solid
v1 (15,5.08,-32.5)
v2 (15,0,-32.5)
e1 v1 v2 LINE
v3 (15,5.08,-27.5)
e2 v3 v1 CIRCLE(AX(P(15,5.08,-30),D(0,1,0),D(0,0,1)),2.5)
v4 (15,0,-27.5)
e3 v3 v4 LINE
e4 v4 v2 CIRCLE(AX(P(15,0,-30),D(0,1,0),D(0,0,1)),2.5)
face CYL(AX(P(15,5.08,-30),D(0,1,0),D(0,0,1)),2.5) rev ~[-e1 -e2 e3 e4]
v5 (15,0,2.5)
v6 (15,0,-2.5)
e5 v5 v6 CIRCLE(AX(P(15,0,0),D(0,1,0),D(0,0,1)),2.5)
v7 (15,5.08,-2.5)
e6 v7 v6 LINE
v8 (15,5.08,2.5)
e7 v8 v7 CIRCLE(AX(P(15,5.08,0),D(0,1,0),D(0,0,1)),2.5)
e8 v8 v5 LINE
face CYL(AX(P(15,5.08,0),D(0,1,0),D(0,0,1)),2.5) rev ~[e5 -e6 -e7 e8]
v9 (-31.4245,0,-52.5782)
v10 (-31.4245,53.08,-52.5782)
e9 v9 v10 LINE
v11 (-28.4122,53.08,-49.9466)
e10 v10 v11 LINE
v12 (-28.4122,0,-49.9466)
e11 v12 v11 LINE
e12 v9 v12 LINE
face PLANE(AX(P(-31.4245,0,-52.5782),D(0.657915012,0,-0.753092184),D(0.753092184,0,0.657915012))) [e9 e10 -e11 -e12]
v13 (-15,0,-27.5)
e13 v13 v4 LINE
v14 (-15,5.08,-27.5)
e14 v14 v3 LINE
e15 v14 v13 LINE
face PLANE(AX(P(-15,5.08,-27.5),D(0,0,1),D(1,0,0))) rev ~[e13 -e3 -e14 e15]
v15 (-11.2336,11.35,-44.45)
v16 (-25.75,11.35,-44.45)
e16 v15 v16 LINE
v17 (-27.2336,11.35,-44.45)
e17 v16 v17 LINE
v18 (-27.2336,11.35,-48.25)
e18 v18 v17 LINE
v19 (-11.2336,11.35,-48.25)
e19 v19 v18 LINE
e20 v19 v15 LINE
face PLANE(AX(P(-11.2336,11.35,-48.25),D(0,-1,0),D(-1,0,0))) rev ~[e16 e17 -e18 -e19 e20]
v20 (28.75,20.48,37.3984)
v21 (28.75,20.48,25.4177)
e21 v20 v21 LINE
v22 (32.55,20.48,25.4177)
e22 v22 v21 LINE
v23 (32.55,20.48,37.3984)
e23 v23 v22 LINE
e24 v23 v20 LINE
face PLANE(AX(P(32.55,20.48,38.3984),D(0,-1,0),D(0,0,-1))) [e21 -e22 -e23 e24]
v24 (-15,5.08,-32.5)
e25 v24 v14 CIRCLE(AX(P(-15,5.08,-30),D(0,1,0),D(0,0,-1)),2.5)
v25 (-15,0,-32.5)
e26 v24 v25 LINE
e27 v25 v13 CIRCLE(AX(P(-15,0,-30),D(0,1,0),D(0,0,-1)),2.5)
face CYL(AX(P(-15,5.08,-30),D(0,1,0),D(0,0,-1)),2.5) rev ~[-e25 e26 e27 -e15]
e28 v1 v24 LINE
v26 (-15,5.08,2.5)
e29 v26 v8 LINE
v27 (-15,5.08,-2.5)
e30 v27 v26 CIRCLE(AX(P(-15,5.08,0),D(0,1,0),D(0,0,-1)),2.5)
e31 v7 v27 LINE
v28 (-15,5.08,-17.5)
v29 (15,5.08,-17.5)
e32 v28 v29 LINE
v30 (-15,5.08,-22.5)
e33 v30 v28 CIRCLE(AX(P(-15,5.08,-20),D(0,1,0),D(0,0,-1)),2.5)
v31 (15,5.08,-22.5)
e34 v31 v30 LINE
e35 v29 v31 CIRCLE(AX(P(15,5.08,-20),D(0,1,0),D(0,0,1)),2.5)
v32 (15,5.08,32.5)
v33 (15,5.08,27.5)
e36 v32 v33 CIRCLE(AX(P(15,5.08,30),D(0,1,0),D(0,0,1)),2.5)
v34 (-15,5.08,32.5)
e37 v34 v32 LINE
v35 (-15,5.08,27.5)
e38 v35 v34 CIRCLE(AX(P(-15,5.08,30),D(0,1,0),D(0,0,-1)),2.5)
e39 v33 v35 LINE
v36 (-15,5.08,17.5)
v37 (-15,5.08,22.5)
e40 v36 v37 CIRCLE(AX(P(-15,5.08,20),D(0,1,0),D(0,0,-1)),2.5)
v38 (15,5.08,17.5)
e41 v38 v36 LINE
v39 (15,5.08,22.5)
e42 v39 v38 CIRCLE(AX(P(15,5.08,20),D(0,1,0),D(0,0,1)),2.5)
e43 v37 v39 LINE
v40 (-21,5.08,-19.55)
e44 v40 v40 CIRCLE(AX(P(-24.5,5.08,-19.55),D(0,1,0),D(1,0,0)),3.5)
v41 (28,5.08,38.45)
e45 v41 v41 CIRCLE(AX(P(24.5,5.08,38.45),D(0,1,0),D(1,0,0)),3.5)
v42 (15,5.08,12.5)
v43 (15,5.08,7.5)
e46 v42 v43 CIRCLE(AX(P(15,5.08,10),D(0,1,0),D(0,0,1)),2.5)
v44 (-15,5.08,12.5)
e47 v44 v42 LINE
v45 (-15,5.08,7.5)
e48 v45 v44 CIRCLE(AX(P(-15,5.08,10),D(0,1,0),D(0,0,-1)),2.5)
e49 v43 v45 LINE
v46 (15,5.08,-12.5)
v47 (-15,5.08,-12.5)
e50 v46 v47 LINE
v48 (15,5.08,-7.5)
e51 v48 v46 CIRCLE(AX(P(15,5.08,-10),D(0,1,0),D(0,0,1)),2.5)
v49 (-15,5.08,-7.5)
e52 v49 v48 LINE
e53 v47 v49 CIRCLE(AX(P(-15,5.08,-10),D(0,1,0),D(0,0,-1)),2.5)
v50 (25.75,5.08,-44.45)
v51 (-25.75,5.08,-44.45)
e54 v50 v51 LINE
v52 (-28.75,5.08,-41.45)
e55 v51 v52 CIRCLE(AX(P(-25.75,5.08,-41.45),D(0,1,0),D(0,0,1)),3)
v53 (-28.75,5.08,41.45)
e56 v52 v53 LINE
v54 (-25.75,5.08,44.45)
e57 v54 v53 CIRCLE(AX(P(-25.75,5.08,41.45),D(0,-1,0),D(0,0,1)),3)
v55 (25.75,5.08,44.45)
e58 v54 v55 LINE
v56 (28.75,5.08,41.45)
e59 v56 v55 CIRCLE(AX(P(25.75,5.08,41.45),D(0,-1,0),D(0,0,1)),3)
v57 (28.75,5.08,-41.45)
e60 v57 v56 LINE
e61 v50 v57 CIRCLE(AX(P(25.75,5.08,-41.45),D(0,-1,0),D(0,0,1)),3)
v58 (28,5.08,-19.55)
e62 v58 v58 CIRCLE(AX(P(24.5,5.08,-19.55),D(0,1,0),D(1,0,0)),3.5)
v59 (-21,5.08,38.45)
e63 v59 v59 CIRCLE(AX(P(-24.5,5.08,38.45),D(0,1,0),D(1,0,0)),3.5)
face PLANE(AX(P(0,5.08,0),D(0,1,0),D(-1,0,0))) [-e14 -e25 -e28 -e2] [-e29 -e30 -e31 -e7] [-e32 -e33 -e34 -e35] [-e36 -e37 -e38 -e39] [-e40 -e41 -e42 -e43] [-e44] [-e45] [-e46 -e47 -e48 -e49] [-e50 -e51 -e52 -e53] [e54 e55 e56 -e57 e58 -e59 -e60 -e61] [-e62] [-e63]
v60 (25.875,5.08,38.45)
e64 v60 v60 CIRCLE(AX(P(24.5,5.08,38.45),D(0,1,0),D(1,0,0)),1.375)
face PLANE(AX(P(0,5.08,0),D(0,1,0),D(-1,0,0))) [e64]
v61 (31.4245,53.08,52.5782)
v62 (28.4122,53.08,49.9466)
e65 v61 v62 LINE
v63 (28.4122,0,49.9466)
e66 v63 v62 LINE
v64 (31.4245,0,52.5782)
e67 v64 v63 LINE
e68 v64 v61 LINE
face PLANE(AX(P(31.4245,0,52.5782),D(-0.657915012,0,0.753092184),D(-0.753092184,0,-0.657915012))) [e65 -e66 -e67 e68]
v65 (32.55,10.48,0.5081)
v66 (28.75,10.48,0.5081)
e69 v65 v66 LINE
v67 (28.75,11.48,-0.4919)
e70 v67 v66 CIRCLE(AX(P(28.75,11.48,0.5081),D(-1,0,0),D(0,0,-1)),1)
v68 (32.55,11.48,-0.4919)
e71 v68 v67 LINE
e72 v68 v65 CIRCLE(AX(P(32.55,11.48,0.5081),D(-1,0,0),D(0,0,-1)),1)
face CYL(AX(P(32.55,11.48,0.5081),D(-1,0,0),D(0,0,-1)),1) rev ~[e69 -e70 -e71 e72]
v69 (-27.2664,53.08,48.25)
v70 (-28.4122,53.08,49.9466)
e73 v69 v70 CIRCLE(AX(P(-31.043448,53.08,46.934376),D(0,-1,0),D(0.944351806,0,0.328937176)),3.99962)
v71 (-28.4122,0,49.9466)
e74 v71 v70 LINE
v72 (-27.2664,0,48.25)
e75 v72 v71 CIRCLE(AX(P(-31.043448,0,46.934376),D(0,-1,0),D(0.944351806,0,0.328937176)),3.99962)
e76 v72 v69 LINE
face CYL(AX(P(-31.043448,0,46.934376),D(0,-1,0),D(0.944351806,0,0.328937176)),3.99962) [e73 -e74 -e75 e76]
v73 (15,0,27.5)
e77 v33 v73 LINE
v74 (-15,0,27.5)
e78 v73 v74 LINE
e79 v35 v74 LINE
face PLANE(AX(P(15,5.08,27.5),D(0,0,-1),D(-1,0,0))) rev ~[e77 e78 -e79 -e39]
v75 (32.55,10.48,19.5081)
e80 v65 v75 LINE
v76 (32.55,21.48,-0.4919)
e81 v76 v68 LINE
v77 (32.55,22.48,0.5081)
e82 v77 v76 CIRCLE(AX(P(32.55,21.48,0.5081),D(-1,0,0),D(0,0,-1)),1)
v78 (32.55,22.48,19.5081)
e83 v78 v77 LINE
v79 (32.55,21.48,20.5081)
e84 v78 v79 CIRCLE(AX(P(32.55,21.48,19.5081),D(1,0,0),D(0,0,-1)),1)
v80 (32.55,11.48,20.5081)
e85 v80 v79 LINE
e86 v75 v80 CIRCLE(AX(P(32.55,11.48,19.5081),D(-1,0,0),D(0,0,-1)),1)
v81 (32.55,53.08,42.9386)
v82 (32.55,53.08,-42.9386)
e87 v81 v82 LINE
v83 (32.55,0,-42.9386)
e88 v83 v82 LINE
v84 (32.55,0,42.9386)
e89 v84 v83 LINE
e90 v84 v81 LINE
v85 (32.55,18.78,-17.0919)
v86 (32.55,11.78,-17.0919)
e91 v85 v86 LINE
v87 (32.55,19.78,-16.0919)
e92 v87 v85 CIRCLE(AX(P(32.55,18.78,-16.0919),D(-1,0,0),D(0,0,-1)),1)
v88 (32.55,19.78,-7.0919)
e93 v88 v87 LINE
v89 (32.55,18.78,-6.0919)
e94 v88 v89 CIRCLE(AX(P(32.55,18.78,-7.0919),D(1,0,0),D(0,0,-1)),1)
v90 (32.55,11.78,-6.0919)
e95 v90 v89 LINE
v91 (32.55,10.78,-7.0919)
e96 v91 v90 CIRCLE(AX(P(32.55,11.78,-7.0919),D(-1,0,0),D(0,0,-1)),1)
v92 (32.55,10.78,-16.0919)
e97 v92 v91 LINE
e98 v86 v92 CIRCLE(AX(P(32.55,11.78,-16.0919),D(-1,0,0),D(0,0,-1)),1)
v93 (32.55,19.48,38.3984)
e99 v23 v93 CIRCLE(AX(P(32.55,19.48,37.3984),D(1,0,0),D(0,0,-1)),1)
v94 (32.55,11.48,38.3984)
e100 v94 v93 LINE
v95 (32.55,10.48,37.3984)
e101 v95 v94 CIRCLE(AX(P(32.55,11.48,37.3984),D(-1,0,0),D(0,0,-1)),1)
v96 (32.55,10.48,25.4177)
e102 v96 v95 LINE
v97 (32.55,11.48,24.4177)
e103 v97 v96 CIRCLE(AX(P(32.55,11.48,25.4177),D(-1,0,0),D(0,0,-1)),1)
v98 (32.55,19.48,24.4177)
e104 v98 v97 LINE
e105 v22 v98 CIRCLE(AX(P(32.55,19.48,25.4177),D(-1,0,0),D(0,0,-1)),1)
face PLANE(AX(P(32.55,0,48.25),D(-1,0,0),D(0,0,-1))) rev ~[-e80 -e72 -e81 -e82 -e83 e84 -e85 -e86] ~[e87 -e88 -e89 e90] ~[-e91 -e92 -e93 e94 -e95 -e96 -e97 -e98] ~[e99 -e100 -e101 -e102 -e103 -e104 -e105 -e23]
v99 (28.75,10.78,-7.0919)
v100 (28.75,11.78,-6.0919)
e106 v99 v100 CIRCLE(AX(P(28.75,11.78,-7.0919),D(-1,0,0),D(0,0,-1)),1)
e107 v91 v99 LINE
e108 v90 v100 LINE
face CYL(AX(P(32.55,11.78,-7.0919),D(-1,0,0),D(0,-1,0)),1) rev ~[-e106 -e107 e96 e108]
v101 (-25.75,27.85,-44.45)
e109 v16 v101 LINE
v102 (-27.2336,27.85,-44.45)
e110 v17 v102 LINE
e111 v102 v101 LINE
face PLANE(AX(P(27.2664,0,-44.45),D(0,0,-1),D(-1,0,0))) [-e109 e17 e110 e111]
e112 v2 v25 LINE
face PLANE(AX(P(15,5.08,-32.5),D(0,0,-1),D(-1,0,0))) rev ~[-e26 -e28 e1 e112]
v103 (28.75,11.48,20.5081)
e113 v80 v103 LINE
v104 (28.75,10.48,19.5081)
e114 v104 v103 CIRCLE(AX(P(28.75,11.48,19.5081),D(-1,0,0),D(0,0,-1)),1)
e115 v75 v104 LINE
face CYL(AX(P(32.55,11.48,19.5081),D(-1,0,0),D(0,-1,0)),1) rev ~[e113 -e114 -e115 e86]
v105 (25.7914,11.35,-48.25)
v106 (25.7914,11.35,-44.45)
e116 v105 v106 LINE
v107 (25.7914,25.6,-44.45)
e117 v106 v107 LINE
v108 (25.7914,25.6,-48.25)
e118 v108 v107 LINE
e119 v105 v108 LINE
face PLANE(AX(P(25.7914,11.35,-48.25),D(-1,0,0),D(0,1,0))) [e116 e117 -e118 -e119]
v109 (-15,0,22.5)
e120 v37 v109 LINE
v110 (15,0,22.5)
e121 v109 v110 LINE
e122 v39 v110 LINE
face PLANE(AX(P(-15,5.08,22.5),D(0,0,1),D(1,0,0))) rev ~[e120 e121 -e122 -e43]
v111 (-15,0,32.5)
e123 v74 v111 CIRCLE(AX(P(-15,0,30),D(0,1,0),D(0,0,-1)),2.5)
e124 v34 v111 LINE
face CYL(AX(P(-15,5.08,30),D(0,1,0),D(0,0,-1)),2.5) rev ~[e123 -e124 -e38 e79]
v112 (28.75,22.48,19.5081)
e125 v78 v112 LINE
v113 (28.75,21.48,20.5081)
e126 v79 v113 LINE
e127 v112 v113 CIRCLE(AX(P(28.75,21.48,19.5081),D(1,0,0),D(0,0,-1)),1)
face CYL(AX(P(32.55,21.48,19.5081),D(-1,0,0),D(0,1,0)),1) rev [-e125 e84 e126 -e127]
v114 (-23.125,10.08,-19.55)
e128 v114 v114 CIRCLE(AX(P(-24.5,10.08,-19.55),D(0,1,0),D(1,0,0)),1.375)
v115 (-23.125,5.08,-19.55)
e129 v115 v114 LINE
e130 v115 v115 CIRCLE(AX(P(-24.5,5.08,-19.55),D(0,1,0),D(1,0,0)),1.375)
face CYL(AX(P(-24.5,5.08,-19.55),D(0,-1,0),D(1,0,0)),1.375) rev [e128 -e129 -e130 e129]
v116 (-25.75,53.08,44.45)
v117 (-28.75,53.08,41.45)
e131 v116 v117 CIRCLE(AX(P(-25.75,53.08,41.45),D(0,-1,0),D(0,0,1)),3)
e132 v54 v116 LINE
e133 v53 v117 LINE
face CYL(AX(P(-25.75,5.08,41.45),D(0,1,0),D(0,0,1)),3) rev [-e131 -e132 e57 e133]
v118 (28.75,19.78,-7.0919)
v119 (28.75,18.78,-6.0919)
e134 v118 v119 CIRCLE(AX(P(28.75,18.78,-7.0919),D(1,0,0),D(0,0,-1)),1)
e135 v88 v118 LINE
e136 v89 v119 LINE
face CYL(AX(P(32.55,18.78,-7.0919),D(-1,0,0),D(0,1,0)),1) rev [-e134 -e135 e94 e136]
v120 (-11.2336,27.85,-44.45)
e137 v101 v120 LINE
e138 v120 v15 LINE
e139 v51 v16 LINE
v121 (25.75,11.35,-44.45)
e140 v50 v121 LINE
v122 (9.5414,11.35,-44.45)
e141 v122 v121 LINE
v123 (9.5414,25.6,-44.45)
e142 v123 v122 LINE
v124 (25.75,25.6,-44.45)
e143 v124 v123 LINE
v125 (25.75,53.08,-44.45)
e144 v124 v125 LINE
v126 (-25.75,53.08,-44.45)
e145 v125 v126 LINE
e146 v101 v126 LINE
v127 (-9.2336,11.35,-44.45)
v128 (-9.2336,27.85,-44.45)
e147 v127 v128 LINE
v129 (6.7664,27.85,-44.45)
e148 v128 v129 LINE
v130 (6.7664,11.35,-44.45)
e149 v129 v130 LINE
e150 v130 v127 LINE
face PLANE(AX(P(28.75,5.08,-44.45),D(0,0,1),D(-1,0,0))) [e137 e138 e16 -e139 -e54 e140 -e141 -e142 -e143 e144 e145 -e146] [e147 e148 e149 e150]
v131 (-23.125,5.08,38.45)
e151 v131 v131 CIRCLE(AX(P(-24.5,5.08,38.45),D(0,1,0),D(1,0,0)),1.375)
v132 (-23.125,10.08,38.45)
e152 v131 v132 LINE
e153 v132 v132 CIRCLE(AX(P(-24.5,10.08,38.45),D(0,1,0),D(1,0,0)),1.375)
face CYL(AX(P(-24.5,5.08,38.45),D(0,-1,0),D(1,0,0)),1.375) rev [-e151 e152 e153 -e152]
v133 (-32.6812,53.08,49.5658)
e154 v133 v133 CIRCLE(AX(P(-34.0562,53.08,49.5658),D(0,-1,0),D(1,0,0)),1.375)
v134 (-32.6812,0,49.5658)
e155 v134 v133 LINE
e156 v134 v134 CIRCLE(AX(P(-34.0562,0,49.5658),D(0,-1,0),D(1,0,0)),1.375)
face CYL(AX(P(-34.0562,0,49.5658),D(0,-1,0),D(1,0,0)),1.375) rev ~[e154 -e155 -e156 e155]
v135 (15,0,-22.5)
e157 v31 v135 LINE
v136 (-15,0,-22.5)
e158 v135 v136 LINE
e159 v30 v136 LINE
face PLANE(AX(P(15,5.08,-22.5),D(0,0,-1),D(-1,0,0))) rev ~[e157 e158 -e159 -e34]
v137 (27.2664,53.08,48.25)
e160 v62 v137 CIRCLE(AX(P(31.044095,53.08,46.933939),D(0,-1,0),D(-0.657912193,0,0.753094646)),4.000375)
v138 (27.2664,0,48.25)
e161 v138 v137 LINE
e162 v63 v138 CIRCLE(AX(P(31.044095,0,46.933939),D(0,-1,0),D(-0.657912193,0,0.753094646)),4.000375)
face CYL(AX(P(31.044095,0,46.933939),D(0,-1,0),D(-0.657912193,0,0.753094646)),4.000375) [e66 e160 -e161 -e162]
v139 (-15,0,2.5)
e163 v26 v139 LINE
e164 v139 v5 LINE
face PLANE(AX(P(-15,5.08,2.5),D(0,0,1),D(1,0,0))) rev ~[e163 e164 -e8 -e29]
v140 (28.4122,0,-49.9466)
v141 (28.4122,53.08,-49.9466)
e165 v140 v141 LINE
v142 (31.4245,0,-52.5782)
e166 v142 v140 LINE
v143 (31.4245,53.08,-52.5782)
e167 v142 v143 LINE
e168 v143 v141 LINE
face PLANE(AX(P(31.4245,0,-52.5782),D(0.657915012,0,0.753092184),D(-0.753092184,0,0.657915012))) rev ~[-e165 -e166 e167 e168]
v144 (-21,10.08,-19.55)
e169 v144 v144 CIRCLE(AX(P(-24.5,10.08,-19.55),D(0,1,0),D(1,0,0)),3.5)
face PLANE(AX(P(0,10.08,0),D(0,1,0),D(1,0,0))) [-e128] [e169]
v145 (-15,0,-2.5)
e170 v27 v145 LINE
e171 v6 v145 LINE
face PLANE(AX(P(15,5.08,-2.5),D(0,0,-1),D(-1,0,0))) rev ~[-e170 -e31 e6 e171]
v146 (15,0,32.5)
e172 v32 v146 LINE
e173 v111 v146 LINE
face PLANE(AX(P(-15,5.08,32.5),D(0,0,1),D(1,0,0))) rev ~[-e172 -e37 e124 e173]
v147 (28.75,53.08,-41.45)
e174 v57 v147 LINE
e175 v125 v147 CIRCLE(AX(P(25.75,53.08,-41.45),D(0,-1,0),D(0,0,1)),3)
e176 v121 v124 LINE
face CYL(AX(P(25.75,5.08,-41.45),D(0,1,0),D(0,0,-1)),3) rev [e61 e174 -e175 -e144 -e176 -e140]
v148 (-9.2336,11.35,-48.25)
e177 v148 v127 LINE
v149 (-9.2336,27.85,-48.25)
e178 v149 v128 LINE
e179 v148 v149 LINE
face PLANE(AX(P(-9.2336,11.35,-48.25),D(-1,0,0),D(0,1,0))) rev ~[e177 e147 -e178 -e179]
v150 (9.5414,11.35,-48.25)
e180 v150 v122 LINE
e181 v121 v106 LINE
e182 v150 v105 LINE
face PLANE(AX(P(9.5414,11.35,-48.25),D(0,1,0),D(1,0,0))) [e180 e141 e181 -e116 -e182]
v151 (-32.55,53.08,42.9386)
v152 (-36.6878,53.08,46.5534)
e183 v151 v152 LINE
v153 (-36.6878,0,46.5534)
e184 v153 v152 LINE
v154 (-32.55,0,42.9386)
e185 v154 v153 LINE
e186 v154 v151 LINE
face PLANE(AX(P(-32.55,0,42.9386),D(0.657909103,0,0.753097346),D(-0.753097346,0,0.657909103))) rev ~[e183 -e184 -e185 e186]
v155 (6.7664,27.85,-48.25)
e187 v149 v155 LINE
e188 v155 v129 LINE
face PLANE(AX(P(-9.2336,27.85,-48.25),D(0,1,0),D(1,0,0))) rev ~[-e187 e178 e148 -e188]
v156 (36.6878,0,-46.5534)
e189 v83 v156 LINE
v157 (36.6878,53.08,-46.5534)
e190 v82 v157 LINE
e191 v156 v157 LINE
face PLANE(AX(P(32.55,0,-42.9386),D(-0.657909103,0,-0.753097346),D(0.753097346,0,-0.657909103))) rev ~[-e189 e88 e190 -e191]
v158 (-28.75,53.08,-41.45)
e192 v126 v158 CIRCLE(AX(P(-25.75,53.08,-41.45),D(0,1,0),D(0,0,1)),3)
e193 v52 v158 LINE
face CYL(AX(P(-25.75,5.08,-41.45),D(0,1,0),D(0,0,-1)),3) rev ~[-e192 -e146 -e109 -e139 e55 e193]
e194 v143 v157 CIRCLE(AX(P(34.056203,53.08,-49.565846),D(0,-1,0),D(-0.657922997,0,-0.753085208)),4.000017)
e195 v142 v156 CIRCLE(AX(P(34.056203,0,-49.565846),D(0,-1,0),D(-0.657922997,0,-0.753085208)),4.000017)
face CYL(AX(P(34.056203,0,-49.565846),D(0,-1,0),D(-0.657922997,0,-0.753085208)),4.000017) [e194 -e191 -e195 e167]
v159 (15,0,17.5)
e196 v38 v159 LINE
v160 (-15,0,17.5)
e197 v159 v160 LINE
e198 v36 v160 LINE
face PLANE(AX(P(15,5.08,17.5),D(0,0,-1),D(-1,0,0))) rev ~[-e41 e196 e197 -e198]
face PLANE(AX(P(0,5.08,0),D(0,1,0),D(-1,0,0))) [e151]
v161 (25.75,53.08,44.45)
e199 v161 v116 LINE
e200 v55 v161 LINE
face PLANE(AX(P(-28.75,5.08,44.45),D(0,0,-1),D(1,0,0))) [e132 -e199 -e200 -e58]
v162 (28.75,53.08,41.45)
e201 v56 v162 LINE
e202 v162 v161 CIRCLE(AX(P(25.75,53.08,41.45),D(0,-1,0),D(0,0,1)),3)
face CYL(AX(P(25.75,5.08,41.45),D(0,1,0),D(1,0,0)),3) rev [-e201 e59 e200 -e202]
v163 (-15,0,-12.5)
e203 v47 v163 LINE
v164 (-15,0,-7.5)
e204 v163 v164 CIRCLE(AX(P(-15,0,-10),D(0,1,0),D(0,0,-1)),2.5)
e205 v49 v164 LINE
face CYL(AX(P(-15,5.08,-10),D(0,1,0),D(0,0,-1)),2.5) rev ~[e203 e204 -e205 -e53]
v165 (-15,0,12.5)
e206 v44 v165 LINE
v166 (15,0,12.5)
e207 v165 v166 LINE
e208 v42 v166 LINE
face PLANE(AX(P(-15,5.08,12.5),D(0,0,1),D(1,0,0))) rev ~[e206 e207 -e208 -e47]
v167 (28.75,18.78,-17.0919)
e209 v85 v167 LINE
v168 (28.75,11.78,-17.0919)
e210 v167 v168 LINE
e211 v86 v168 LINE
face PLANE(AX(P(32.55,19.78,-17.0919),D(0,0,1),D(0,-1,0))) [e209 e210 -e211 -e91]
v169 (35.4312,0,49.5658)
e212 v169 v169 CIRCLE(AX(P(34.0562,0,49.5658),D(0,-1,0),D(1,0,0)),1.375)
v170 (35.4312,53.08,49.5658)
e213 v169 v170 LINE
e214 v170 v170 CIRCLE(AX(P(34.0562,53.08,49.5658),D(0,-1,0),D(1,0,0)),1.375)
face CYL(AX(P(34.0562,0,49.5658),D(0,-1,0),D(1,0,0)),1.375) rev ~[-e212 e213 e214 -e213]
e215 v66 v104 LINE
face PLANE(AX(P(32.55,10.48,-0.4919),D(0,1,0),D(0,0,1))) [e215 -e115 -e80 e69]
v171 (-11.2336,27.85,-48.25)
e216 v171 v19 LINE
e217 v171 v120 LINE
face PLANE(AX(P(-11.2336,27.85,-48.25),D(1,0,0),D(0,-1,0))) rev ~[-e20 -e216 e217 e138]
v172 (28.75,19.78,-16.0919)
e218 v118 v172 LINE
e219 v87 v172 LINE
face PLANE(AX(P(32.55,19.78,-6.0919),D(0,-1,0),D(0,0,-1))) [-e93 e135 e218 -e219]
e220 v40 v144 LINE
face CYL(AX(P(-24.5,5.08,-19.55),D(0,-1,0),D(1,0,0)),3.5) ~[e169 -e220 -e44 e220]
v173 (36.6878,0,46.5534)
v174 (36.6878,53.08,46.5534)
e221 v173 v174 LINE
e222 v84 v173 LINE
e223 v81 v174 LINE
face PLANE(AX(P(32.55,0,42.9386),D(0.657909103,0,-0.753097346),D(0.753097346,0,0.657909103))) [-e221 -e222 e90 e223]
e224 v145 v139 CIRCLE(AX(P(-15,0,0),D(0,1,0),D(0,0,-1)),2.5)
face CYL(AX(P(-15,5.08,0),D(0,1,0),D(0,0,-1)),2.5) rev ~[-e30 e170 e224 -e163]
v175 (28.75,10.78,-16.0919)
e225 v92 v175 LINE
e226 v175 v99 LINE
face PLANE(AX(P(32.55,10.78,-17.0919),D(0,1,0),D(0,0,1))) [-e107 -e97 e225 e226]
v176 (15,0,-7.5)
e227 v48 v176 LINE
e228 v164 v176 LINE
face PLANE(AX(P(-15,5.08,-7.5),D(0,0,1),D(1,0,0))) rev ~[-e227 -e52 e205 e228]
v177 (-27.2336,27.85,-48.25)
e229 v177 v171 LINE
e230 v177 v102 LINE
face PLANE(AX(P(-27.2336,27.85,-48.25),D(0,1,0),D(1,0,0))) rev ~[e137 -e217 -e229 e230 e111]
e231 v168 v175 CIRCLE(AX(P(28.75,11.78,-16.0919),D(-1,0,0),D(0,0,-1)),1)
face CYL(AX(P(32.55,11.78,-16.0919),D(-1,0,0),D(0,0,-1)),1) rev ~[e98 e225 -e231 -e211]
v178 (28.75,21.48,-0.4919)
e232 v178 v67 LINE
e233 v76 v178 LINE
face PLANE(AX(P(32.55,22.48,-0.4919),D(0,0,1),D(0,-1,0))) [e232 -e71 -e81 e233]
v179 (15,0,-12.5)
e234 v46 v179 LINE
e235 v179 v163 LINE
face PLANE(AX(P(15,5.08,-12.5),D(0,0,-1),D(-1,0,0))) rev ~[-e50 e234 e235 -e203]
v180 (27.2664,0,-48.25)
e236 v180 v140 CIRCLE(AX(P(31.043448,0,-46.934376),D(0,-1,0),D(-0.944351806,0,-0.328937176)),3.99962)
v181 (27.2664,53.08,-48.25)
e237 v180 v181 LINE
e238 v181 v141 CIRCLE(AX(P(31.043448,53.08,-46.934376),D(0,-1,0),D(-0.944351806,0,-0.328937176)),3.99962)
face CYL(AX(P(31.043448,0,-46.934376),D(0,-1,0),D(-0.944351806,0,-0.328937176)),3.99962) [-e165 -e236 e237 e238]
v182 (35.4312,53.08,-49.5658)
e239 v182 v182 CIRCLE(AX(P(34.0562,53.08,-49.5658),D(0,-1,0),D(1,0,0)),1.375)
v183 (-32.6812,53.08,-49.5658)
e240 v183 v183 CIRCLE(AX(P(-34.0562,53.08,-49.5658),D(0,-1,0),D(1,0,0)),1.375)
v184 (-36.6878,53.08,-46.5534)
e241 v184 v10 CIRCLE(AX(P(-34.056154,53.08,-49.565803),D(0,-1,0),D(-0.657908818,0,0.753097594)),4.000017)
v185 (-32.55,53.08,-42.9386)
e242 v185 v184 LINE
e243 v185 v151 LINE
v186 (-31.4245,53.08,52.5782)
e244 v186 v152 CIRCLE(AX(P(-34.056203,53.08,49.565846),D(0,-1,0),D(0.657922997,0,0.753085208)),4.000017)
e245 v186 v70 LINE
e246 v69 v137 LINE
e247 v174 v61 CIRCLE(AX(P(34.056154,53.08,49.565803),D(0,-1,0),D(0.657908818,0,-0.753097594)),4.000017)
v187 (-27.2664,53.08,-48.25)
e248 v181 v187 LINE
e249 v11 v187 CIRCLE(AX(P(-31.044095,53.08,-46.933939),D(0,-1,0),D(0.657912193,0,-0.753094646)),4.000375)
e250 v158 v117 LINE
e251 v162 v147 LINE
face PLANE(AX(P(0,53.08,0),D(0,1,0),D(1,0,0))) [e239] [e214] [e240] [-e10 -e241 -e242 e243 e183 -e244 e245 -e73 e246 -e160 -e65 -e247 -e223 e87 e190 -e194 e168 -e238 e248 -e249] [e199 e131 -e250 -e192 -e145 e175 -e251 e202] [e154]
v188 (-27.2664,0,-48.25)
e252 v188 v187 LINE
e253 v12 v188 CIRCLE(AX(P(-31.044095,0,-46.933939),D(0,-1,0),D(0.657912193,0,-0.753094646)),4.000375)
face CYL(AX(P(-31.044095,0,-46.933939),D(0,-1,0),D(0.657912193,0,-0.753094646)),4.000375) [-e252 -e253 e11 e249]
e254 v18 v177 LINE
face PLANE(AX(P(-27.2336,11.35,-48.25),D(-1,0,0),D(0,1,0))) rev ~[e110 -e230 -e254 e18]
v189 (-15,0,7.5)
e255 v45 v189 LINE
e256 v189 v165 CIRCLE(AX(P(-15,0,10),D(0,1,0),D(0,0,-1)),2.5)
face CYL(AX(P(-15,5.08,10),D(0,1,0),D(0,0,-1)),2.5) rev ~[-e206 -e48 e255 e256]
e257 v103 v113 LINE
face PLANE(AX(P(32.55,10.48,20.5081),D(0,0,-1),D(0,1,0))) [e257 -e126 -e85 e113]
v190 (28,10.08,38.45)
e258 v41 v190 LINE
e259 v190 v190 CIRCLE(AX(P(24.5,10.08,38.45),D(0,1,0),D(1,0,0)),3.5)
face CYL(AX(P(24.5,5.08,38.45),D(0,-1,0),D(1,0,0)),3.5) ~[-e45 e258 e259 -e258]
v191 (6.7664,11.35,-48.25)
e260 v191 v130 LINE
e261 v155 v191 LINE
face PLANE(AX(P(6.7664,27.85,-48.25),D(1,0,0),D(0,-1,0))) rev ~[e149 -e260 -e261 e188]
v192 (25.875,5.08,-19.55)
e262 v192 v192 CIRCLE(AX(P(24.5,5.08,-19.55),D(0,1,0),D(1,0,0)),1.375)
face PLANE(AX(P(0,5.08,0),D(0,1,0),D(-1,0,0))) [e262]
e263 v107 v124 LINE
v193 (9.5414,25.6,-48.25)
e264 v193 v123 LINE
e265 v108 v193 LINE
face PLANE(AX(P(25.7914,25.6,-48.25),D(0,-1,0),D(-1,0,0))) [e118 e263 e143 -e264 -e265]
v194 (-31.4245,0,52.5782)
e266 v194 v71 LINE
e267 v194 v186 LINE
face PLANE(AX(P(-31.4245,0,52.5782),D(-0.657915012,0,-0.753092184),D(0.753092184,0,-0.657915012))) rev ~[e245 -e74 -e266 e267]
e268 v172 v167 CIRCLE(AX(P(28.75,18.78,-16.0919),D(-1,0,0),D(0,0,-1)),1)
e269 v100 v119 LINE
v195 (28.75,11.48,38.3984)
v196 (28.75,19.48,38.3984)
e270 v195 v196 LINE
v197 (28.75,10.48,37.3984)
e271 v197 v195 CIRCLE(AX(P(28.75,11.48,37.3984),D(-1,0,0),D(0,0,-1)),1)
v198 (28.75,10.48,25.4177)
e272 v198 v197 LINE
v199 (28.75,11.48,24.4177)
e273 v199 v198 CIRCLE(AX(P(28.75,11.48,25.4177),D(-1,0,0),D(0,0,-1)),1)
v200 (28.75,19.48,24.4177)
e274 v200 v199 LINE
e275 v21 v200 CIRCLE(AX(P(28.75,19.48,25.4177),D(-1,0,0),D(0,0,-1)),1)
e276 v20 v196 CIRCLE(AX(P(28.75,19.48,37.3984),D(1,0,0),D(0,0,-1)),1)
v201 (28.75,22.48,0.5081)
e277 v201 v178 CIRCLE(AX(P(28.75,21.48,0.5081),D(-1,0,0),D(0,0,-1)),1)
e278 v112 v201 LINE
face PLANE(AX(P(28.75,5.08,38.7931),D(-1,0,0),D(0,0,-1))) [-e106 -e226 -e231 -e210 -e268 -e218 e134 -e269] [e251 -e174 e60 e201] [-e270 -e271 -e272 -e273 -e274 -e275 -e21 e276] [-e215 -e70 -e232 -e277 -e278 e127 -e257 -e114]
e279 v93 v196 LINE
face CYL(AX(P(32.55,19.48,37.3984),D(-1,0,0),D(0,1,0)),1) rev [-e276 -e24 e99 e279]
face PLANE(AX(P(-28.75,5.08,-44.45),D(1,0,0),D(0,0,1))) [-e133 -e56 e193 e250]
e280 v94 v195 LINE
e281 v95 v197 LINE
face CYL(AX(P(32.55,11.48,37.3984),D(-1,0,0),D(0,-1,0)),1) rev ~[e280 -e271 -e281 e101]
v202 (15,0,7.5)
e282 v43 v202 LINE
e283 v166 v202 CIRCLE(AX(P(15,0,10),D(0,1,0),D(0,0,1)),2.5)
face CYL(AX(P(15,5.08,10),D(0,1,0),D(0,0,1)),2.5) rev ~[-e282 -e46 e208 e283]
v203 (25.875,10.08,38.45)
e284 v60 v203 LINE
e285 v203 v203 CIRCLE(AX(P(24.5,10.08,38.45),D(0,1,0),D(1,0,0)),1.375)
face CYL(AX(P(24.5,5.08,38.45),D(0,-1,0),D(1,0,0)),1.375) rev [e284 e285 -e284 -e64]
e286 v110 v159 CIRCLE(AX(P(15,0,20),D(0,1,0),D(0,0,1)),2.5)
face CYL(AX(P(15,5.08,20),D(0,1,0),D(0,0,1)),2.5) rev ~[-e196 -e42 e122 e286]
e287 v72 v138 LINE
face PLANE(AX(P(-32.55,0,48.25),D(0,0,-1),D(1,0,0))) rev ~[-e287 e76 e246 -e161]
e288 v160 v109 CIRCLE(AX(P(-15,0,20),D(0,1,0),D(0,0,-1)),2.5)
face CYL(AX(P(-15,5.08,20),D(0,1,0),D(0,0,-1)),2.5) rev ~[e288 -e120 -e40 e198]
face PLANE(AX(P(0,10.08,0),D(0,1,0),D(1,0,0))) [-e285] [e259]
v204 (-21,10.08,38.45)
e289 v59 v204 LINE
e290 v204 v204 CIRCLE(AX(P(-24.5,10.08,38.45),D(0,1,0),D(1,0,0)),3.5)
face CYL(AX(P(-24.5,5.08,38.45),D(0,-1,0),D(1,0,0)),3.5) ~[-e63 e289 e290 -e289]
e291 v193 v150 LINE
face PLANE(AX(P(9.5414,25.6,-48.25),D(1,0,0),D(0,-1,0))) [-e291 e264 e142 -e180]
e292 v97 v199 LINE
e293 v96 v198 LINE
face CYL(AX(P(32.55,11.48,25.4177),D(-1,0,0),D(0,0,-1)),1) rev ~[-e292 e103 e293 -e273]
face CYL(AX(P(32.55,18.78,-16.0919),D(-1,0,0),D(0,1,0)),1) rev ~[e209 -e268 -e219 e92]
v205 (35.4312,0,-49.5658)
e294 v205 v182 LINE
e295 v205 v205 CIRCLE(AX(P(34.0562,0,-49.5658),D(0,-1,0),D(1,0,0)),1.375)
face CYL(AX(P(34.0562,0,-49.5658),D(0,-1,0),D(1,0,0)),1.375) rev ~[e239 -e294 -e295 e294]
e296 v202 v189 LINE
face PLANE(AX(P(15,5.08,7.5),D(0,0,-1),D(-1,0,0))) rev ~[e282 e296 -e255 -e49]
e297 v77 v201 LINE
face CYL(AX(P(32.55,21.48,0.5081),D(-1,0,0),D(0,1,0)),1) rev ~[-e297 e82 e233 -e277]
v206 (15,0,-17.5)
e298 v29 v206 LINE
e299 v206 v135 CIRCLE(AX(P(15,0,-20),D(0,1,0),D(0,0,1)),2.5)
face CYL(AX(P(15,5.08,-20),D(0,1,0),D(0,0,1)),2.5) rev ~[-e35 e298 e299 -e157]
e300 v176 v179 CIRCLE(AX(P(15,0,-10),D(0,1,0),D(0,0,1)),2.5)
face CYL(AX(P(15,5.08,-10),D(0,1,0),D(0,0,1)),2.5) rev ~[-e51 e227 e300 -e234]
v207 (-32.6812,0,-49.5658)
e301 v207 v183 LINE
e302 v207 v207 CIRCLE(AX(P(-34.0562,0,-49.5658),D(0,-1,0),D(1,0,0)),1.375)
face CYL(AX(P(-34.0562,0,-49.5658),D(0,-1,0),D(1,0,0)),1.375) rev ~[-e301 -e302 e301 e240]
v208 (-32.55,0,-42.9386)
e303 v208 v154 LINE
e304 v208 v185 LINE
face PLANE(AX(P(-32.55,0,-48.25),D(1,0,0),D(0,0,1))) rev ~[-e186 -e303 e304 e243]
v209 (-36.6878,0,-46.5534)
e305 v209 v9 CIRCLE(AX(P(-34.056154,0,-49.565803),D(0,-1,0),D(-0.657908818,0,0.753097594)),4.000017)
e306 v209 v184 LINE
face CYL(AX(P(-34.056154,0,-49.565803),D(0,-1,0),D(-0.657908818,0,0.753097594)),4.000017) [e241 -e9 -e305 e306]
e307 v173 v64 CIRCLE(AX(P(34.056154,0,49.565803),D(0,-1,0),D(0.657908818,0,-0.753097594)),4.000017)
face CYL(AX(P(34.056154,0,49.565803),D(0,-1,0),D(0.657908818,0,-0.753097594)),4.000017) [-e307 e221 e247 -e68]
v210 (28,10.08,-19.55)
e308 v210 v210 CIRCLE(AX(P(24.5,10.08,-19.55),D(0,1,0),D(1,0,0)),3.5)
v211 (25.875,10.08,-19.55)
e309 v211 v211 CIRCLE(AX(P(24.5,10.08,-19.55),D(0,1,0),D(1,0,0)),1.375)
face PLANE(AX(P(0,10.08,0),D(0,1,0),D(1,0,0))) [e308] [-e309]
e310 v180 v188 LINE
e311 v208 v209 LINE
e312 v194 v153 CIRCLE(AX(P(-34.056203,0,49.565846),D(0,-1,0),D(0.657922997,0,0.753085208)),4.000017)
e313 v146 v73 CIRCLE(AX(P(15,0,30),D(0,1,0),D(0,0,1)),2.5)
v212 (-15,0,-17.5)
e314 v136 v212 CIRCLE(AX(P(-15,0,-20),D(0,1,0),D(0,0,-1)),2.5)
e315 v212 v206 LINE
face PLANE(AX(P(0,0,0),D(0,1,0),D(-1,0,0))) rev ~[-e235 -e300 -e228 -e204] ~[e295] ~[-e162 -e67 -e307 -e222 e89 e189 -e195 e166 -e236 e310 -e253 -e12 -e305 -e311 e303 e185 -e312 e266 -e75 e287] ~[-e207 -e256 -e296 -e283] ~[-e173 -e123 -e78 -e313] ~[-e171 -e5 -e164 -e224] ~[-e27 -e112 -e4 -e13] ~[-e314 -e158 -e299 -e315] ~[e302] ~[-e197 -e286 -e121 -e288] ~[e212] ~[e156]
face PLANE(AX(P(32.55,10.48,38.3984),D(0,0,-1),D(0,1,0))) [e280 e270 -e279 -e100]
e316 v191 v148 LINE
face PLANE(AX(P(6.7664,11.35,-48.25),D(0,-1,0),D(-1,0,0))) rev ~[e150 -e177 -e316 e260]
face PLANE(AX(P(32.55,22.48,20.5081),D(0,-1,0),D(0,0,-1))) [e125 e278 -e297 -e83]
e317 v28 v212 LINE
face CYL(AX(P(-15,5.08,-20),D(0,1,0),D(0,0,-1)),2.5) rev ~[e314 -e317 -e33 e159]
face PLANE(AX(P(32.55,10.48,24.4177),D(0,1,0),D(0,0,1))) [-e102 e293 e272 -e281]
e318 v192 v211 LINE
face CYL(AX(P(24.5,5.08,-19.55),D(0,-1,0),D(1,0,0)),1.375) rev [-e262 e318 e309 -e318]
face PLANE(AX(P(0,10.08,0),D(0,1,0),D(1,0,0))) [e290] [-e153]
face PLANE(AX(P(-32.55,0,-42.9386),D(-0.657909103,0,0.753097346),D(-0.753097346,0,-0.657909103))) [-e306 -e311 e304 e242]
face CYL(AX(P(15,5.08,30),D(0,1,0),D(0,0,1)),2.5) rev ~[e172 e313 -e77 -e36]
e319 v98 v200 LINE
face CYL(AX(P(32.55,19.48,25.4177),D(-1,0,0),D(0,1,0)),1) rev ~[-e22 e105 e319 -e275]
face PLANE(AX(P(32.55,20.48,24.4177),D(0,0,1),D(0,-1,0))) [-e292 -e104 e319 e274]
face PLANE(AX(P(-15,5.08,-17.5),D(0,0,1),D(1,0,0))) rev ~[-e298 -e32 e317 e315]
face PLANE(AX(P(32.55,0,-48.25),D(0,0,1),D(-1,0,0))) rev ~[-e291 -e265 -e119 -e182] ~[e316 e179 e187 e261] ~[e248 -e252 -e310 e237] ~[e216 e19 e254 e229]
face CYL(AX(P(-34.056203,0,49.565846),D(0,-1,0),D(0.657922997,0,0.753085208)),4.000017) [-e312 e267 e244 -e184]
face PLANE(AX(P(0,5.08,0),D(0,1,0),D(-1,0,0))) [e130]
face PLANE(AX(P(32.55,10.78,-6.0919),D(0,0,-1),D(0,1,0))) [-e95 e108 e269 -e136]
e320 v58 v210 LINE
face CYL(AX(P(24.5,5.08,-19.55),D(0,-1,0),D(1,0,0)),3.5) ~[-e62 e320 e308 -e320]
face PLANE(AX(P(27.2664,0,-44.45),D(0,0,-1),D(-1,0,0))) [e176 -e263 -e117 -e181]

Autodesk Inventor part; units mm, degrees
ref_plane "YZ Plane" through (0, 0, 0) normal (1, 0, 0) x (0, 1, 0)
ref_plane "XZ Plane" through (0, 0, 0) normal (0, 1, 0) x (-1, 0, 0)
ref_plane "XY Plane" through (0, 0, 0) normal (0, 0, 1) x (1, 0, 0)
sketch "Sketch1" plane through (0, 0, 0) normal (0, 1, 0) x (-1, 0, 0)
  line L0 (-32.55, -48.25) -> (32.55, -48.25)
  line L1 (32.55, -48.25) -> (32.55, 48.25)
  line L2 (32.55, 48.25) -> (-32.55, 48.25)
  line L3 (-32.55, 48.25) -> (-32.55, -48.25)
  line L4 (-32.55, -48.25) -> (32.55, 48.25) construction
  line L5 (32.55, -48.25) -> (-32.55, 48.25) construction
  point P0 (0, 0)
  dimension "d0" = 65.1
  dimension "d1" = 96.5
extrude "Extrusion1" add sketch "Sketch1" along normal blind 5.08
sketch "Sketch2" plane through (0, 5.08, 0) normal (0, 1, 0) x (1, 0, 0)
  line L0 (28.75, 44.45) -> (-28.75, 44.45)
  line L1 (-28.75, 44.45) -> (-28.75, -44.45)
  line L2 (-28.75, -44.45) -> (28.75, -44.45)
  line L3 (28.75, -44.45) -> (28.75, 44.45)
  line L4 (28.75, 44.45) -> (-28.75, -44.45) construction
  line L5 (-28.75, 44.45) -> (28.75, -44.45) construction
  line L6 (-32.55, 48.25) -> (-32.55, -48.25) projected
  line L7 (-32.55, -48.25) -> (32.55, -48.25) projected
  line L8 (32.55, 48.25) -> (-32.55, 48.25) projected
  line L9 (32.55, -48.25) -> (32.55, 48.25) projected
  line L10 (24.95, -40.65) -> (32.55, -48.25) construction
  line L11 (23.0931, -44.45) -> (29.7216, -51.0784)
  line L12 (35.3784, -45.4216) -> (28.75, -38.7931)
  arc A0 (29.7216, -51.0784) -> (35.3784, -45.4216) centre (32.55, -48.25) ccw
  circle A1 centre (32.55, -48.25) radius 1.375
  point P0 (0, 0)
  dimension "d4" = 3.8
  dimension "d5" = 3.8
  dimension "d22" = 8
  dimension "d23" = 2.75
extrude "Extrusion2" add sketch "Sketch2" along normal blind 48 contours L0 L1 L2 L11 L7 L6 L8 L9 L12 L3 | L12 L9 A1 L7 L11 L2 L3 | L9 L7 A1 picked at (32.448, -47.3448)
sketch "Sketch3" plane through (0, 5.08, 0) normal (0, 1, 0) x (1, 0, 0)
  line L0 (28.75, -44.45) -> (-28.75, -44.45) construction
  line L1 (0, -44.45) -> (0, 44.45) construction
  line L2 (28.75, 44.45) -> (-28.75, 44.45) construction
  circle A0 centre (-24.5, -38.45) radius 3.5
  circle A1 centre (-24.5, -38.45) radius 1.375
  line L3 (28.75, 44.45) -> (28.75, -44.45) construction
  line L4 (28.75, 0) -> (-28.75, 0) construction
  line L5 (-28.75, -44.45) -> (-28.75, 44.45) construction
  circle A2 centre (-24.5, 19.55) radius 3.5
  circle A3 centre (-24.5, 19.55) radius 1.375
  circle A4 centre (24.5, -38.45) radius 3.5
  circle A5 centre (24.5, -38.45) radius 1.375
  circle A6 centre (24.5, 19.55) radius 3.5
  circle A7 centre (24.5, 19.55) radius 1.375
  point P0 (0, 0)
  dimension "d8" = 7
  dimension "d9" = 2.75
  dimension "d10" = 6
  dimension "d11" = 24.5
  dimension "d14" = 58
extrude "Extrusion3" add sketch "Sketch3" along normal blind 5
sketch "Sketch4" plane through (0, 0, 0) normal (0, -1, 0) x (1, 0, 0)
  line L0 (31.0438, 46.9342) -> (34.0562, 49.5658) construction
  line L1 (32.55, 48.25) -> (32.55, -48.25) projected
  line L2 (32.55, 42.9386) -> (36.6878, 46.5534)
  line L3 (31.4245, 52.5782) -> (28.4122, 49.9466)
  arc A0 (28.4122, 49.9466) -> (27.2664, 48.25) centre (31.0438, 46.9342) ccw
  arc A1 (36.6878, 46.5534) -> (31.4245, 52.5782) centre (34.0562, 49.5658) ccw
  line L4 (-32.55, 48.25) -> (32.55, 48.25) projected
  line L5 (27.2664, 48.25) -> (32.55, 48.25)
  line L6 (32.55, 48.25) -> (32.55, 42.9386)
  circle A2 centre (34.0562, 49.5658) radius 1.375
  line L7 (0, 48.25) -> (0, -48.25) construction
  line L8 (32.55, -48.25) -> (-32.55, -48.25) construction
  line L9 (32.55, 0) -> (-33.3, 0) construction
  line L10 (32.55, -48.25) -> (32.55, 48.25)
  line L11 (32.55, -42.9386) -> (36.6878, -46.5534)
  line L12 (31.4245, -52.5782) -> (28.4122, -49.9466)
  arc A3 (27.2664, -48.25) -> (28.4122, -49.9466) centre (31.0438, -46.9342) ccw
  arc A4 (31.4245, -52.5782) -> (36.6878, -46.5534) centre (34.0562, -49.5658) ccw
  line L13 (-32.55, -48.25) -> (32.55, -48.25)
  circle A5 centre (34.0562, -49.5658) radius 1.375
  line L14 (-32.55, 48.25) -> (-32.55, -48.25)
  line L15 (-32.55, 42.9386) -> (-36.6878, 46.5534)
  line L16 (-31.4245, 52.5782) -> (-28.4122, 49.9466)
  arc A6 (-27.2664, 48.25) -> (-28.4122, 49.9466) centre (-31.0438, 46.9342) ccw
  arc A7 (-31.4245, 52.5782) -> (-36.6878, 46.5534) centre (-34.0562, 49.5658) ccw
  line L17 (-27.2664, 48.25) -> (-32.55, 48.25)
  circle A8 centre (-34.0562, 49.5658) radius 1.375
  arc A9 (-36.6878, -46.5534) -> (-31.4245, -52.5782) centre (-34.0562, -49.5658) ccw
  line L18 (-32.55, -42.9386) -> (-36.6878, -46.5534)
  line L19 (-31.4245, -52.5782) -> (-28.4122, -49.9466)
  arc A10 (-28.4122, -49.9466) -> (-27.2664, -48.25) centre (-31.0438, -46.9342) ccw
  circle A11 centre (-34.0562, -49.5658) radius 1.375
  line L20 (-27.2664, -48.25) -> (-32.55, -48.25)
  line L21 (-32.55, -48.25) -> (-32.55, 48.25)
  point P0 (0, 0)
  point P1 (-32.55, -42.9386)
  point P2 (32.55, -48.25)
  dimension "d24" = 2
  dimension "d25" = 8
  dimension "d26" = 131.141
  dimension "d27" = 2.75
extrude "Extrusion4" add sketch "Sketch4" against normal up to surface (53.08 mm away) contours L4 A0 L3 A1 L2 L1 | L11 A4 L12 A3 L13 L1 | L4 L14 L15 A7 L16 A6 | A10 L19 A9 L18 L14 L13
fillet "Fillet2" radius 3 4 edges at (28.75, 29.08, -44.45) (-28.75, 29.08, -44.45) (-28.75, 29.08, 44.45) (28.75, 29.08, 44.45)
sketch "Sketch5" plane through (0, 5.08, 0) normal (0, 1, 0) x (1, 0, 0)
  line L0 (15, 0) -> (-15, 0) construction
  line L1 (15, 2.5) -> (-15, 2.5)
  line L2 (-15, -2.5) -> (15, -2.5)
  arc A0 (15, -2.5) -> (15, 2.5) centre (15, 0) ccw
  arc A1 (-15, 2.5) -> (-15, -2.5) centre (-15, 0) ccw
  line L3 (-25.75, -44.45) -> (25.75, -44.45) construction
  line L4 (0, -44.45) -> (0, 44.45) construction
  line L5 (-25.75, 44.45) -> (25.75, 44.45) construction
  arc A2 (-15, 12.5) -> (-15, 7.5) centre (-15, 10) ccw
  line L6 (15, 12.5) -> (-15, 12.5)
  line L7 (-15, 7.5) -> (15, 7.5)
  arc A3 (15, 7.5) -> (15, 12.5) centre (15, 10) ccw
  arc A4 (-15, 22.5) -> (-15, 17.5) centre (-15, 20) ccw
  line L8 (15, 22.5) -> (-15, 22.5)
  line L9 (-15, 17.5) -> (15, 17.5)
  arc A5 (15, 17.5) -> (15, 22.5) centre (15, 20) ccw
  arc A6 (-15, 32.5) -> (-15, 27.5) centre (-15, 30) ccw
  line L10 (15, 32.5) -> (-15, 32.5)
  line L11 (-15, 27.5) -> (15, 27.5)
  arc A7 (15, 27.5) -> (15, 32.5) centre (15, 30) ccw
  arc A8 (-15, -7.5) -> (-15, -12.5) centre (-15, -10) ccw
  line L12 (-15, -12.5) -> (15, -12.5)
  line L13 (15, -7.5) -> (-15, -7.5)
  arc A9 (15, -12.5) -> (15, -7.5) centre (15, -10) ccw
  arc A10 (-15, -17.5) -> (-15, -22.5) centre (-15, -20) ccw
  line L14 (-15, -22.5) -> (15, -22.5)
  line L15 (15, -17.5) -> (-15, -17.5)
  arc A11 (15, -22.5) -> (15, -17.5) centre (15, -20) ccw
  arc A12 (-15, -27.5) -> (-15, -32.5) centre (-15, -30) ccw
  line L16 (-15, -32.5) -> (15, -32.5)
  line L17 (15, -27.5) -> (-15, -27.5)
  arc A13 (15, -32.5) -> (15, -27.5) centre (15, -30) ccw
  point P0 (0, 0)
  dimension "d31" = 15
  dimension "d32" = 5
  dimension "d35" = 10
  dimension "d42" = 10
extrude "Extrusion5" cut sketch "Sketch5" against normal up to surface (5.08 mm away)
sketch "Sketch9" plane through (27.2664, 0, -48.25) normal (0, 0, -1) x (-1, 0, 0)
  line L0 (6.2664, 10.08) -> (-0.7336, 10.08) projected
  line L1 (1.3914, 10.08) -> (4.1414, 10.08) projected
  line L2 (1.3914, 10.08) -> (4.1414, 10.08) construction
  line L3 (2.7664, 10.08) -> (-0.7336, 10.08) construction
  line L4 (6.2664, 10.08) -> (-0.7336, 10.08) projected
  line L5 (0, 53.08) -> (0, 0) projected
  line L6 (-0.7336, 10.08) -> (0, 13.5023) construction
  line L7 (17.725, 11.35) -> (1.475, 11.35)
  line L8 (1.475, 11.35) -> (1.475, 25.6)
  line L9 (1.475, 25.6) -> (17.725, 25.6)
  line L10 (17.725, 25.6) -> (17.725, 11.35)
  line L11 (9.6, 25.6) -> (9.6, 11.35) construction
  line L12 (20.5, 11.35) -> (36.5, 11.35)
  line L13 (36.5, 11.35) -> (36.5, 27.85)
  line L14 (36.5, 27.85) -> (20.5, 27.85)
  line L15 (20.5, 27.85) -> (20.5, 11.35)
  line L16 (28.5, 27.85) -> (28.5, 11.35) construction
  line L17 (54.5, 27.85) -> (38.5, 27.85)
  line L18 (54.5, 11.35) -> (54.5, 27.85)
  line L19 (38.5, 11.35) -> (54.5, 11.35)
  line L20 (38.5, 27.85) -> (38.5, 11.35)
  point P0 (27.2664, 0)
  point P1 (46.5, 27.85)
  point P2 (46.5, 11.35)
  dimension "d58" = 3.5
  dimension "d60" = 3.5
  dimension "d63" = 16.25
  dimension "d64" = 14.25
  dimension "d65" = 1.27
  dimension "d66" = 9.6
  dimension "d69" = 16
  dimension "d70" = 16.5
  dimension "d71" = 1.27
  dimension "d72" = 28.5
  dimension "d75" = 18
extrude "Extrusion7" cut sketch "Sketch9" against normal up to surface (3.8 mm away)
sketch "Sketch11" plane through (32.55, 0, 42.9386) normal (1, 0, 0) x (0, 0, -1)
  line L0 (4.5402, 20.48) -> (18.5209, 20.48)
  line L1 (18.5209, 20.48) -> (18.5209, 10.48)
  line L2 (18.5209, 10.48) -> (4.5402, 10.48)
  line L3 (4.5402, 10.48) -> (4.5402, 20.48)
  line L4 (22.4305, 22.48) -> (43.4305, 22.48)
  line L5 (43.4305, 22.48) -> (43.4305, 10.48)
  line L6 (43.4305, 10.48) -> (22.4305, 10.48)
  line L7 (22.4305, 10.48) -> (22.4305, 22.48)
  line L8 (25.4305, 16.69) -> (25.4305, 14.2116)
  line L9 (40.4305, 14.2116) -> (40.4305, 16.69)
  line L10 (15.5209, 13.09) -> (15.5209, 12.8971)
  line L11 (7.5402, 12.8971) -> (7.5402, 13.09)
  line L12 (82.9128, 10.28) -> (3.9886, 10.28)
  line L13 (49.0305, 19.78) -> (60.0305, 19.78)
  line L14 (60.0305, 19.78) -> (60.0305, 10.78)
  line L15 (60.0305, 10.78) -> (49.0305, 10.78)
  line L16 (49.0305, 10.78) -> (49.0305, 19.78)
  line L17 (51.0305, 17.41) -> (51.0305, 11.41)
  line L18 (58.0305, 11.41) -> (58.0305, 17.41)
  point P0 (42.9386, 0)
extrude "Extrusion8" cut sketch "Sketch11" against normal up to surface (3.8 mm away)
fillet "Fillet4" radius 1 12 edges at (30.65, 22.48, -0.492) (30.65, 22.48, 20.508) (30.65, 10.48, 20.508) (30.65, 10.48, -0.492) (30.65, 19.78, -6.092) (30.65, 10.78, -6.092) (30.65, 10.78, -17.092) (30.65, 19.78, -17.092) (30.65, 20.48, 24.4177) (30.65, 20.48, 38.3984) (30.65, 10.48, 38.3984) (30.65, 10.48, 24.4177)
properties part number "Case RevB" material "ABS Plastic"
